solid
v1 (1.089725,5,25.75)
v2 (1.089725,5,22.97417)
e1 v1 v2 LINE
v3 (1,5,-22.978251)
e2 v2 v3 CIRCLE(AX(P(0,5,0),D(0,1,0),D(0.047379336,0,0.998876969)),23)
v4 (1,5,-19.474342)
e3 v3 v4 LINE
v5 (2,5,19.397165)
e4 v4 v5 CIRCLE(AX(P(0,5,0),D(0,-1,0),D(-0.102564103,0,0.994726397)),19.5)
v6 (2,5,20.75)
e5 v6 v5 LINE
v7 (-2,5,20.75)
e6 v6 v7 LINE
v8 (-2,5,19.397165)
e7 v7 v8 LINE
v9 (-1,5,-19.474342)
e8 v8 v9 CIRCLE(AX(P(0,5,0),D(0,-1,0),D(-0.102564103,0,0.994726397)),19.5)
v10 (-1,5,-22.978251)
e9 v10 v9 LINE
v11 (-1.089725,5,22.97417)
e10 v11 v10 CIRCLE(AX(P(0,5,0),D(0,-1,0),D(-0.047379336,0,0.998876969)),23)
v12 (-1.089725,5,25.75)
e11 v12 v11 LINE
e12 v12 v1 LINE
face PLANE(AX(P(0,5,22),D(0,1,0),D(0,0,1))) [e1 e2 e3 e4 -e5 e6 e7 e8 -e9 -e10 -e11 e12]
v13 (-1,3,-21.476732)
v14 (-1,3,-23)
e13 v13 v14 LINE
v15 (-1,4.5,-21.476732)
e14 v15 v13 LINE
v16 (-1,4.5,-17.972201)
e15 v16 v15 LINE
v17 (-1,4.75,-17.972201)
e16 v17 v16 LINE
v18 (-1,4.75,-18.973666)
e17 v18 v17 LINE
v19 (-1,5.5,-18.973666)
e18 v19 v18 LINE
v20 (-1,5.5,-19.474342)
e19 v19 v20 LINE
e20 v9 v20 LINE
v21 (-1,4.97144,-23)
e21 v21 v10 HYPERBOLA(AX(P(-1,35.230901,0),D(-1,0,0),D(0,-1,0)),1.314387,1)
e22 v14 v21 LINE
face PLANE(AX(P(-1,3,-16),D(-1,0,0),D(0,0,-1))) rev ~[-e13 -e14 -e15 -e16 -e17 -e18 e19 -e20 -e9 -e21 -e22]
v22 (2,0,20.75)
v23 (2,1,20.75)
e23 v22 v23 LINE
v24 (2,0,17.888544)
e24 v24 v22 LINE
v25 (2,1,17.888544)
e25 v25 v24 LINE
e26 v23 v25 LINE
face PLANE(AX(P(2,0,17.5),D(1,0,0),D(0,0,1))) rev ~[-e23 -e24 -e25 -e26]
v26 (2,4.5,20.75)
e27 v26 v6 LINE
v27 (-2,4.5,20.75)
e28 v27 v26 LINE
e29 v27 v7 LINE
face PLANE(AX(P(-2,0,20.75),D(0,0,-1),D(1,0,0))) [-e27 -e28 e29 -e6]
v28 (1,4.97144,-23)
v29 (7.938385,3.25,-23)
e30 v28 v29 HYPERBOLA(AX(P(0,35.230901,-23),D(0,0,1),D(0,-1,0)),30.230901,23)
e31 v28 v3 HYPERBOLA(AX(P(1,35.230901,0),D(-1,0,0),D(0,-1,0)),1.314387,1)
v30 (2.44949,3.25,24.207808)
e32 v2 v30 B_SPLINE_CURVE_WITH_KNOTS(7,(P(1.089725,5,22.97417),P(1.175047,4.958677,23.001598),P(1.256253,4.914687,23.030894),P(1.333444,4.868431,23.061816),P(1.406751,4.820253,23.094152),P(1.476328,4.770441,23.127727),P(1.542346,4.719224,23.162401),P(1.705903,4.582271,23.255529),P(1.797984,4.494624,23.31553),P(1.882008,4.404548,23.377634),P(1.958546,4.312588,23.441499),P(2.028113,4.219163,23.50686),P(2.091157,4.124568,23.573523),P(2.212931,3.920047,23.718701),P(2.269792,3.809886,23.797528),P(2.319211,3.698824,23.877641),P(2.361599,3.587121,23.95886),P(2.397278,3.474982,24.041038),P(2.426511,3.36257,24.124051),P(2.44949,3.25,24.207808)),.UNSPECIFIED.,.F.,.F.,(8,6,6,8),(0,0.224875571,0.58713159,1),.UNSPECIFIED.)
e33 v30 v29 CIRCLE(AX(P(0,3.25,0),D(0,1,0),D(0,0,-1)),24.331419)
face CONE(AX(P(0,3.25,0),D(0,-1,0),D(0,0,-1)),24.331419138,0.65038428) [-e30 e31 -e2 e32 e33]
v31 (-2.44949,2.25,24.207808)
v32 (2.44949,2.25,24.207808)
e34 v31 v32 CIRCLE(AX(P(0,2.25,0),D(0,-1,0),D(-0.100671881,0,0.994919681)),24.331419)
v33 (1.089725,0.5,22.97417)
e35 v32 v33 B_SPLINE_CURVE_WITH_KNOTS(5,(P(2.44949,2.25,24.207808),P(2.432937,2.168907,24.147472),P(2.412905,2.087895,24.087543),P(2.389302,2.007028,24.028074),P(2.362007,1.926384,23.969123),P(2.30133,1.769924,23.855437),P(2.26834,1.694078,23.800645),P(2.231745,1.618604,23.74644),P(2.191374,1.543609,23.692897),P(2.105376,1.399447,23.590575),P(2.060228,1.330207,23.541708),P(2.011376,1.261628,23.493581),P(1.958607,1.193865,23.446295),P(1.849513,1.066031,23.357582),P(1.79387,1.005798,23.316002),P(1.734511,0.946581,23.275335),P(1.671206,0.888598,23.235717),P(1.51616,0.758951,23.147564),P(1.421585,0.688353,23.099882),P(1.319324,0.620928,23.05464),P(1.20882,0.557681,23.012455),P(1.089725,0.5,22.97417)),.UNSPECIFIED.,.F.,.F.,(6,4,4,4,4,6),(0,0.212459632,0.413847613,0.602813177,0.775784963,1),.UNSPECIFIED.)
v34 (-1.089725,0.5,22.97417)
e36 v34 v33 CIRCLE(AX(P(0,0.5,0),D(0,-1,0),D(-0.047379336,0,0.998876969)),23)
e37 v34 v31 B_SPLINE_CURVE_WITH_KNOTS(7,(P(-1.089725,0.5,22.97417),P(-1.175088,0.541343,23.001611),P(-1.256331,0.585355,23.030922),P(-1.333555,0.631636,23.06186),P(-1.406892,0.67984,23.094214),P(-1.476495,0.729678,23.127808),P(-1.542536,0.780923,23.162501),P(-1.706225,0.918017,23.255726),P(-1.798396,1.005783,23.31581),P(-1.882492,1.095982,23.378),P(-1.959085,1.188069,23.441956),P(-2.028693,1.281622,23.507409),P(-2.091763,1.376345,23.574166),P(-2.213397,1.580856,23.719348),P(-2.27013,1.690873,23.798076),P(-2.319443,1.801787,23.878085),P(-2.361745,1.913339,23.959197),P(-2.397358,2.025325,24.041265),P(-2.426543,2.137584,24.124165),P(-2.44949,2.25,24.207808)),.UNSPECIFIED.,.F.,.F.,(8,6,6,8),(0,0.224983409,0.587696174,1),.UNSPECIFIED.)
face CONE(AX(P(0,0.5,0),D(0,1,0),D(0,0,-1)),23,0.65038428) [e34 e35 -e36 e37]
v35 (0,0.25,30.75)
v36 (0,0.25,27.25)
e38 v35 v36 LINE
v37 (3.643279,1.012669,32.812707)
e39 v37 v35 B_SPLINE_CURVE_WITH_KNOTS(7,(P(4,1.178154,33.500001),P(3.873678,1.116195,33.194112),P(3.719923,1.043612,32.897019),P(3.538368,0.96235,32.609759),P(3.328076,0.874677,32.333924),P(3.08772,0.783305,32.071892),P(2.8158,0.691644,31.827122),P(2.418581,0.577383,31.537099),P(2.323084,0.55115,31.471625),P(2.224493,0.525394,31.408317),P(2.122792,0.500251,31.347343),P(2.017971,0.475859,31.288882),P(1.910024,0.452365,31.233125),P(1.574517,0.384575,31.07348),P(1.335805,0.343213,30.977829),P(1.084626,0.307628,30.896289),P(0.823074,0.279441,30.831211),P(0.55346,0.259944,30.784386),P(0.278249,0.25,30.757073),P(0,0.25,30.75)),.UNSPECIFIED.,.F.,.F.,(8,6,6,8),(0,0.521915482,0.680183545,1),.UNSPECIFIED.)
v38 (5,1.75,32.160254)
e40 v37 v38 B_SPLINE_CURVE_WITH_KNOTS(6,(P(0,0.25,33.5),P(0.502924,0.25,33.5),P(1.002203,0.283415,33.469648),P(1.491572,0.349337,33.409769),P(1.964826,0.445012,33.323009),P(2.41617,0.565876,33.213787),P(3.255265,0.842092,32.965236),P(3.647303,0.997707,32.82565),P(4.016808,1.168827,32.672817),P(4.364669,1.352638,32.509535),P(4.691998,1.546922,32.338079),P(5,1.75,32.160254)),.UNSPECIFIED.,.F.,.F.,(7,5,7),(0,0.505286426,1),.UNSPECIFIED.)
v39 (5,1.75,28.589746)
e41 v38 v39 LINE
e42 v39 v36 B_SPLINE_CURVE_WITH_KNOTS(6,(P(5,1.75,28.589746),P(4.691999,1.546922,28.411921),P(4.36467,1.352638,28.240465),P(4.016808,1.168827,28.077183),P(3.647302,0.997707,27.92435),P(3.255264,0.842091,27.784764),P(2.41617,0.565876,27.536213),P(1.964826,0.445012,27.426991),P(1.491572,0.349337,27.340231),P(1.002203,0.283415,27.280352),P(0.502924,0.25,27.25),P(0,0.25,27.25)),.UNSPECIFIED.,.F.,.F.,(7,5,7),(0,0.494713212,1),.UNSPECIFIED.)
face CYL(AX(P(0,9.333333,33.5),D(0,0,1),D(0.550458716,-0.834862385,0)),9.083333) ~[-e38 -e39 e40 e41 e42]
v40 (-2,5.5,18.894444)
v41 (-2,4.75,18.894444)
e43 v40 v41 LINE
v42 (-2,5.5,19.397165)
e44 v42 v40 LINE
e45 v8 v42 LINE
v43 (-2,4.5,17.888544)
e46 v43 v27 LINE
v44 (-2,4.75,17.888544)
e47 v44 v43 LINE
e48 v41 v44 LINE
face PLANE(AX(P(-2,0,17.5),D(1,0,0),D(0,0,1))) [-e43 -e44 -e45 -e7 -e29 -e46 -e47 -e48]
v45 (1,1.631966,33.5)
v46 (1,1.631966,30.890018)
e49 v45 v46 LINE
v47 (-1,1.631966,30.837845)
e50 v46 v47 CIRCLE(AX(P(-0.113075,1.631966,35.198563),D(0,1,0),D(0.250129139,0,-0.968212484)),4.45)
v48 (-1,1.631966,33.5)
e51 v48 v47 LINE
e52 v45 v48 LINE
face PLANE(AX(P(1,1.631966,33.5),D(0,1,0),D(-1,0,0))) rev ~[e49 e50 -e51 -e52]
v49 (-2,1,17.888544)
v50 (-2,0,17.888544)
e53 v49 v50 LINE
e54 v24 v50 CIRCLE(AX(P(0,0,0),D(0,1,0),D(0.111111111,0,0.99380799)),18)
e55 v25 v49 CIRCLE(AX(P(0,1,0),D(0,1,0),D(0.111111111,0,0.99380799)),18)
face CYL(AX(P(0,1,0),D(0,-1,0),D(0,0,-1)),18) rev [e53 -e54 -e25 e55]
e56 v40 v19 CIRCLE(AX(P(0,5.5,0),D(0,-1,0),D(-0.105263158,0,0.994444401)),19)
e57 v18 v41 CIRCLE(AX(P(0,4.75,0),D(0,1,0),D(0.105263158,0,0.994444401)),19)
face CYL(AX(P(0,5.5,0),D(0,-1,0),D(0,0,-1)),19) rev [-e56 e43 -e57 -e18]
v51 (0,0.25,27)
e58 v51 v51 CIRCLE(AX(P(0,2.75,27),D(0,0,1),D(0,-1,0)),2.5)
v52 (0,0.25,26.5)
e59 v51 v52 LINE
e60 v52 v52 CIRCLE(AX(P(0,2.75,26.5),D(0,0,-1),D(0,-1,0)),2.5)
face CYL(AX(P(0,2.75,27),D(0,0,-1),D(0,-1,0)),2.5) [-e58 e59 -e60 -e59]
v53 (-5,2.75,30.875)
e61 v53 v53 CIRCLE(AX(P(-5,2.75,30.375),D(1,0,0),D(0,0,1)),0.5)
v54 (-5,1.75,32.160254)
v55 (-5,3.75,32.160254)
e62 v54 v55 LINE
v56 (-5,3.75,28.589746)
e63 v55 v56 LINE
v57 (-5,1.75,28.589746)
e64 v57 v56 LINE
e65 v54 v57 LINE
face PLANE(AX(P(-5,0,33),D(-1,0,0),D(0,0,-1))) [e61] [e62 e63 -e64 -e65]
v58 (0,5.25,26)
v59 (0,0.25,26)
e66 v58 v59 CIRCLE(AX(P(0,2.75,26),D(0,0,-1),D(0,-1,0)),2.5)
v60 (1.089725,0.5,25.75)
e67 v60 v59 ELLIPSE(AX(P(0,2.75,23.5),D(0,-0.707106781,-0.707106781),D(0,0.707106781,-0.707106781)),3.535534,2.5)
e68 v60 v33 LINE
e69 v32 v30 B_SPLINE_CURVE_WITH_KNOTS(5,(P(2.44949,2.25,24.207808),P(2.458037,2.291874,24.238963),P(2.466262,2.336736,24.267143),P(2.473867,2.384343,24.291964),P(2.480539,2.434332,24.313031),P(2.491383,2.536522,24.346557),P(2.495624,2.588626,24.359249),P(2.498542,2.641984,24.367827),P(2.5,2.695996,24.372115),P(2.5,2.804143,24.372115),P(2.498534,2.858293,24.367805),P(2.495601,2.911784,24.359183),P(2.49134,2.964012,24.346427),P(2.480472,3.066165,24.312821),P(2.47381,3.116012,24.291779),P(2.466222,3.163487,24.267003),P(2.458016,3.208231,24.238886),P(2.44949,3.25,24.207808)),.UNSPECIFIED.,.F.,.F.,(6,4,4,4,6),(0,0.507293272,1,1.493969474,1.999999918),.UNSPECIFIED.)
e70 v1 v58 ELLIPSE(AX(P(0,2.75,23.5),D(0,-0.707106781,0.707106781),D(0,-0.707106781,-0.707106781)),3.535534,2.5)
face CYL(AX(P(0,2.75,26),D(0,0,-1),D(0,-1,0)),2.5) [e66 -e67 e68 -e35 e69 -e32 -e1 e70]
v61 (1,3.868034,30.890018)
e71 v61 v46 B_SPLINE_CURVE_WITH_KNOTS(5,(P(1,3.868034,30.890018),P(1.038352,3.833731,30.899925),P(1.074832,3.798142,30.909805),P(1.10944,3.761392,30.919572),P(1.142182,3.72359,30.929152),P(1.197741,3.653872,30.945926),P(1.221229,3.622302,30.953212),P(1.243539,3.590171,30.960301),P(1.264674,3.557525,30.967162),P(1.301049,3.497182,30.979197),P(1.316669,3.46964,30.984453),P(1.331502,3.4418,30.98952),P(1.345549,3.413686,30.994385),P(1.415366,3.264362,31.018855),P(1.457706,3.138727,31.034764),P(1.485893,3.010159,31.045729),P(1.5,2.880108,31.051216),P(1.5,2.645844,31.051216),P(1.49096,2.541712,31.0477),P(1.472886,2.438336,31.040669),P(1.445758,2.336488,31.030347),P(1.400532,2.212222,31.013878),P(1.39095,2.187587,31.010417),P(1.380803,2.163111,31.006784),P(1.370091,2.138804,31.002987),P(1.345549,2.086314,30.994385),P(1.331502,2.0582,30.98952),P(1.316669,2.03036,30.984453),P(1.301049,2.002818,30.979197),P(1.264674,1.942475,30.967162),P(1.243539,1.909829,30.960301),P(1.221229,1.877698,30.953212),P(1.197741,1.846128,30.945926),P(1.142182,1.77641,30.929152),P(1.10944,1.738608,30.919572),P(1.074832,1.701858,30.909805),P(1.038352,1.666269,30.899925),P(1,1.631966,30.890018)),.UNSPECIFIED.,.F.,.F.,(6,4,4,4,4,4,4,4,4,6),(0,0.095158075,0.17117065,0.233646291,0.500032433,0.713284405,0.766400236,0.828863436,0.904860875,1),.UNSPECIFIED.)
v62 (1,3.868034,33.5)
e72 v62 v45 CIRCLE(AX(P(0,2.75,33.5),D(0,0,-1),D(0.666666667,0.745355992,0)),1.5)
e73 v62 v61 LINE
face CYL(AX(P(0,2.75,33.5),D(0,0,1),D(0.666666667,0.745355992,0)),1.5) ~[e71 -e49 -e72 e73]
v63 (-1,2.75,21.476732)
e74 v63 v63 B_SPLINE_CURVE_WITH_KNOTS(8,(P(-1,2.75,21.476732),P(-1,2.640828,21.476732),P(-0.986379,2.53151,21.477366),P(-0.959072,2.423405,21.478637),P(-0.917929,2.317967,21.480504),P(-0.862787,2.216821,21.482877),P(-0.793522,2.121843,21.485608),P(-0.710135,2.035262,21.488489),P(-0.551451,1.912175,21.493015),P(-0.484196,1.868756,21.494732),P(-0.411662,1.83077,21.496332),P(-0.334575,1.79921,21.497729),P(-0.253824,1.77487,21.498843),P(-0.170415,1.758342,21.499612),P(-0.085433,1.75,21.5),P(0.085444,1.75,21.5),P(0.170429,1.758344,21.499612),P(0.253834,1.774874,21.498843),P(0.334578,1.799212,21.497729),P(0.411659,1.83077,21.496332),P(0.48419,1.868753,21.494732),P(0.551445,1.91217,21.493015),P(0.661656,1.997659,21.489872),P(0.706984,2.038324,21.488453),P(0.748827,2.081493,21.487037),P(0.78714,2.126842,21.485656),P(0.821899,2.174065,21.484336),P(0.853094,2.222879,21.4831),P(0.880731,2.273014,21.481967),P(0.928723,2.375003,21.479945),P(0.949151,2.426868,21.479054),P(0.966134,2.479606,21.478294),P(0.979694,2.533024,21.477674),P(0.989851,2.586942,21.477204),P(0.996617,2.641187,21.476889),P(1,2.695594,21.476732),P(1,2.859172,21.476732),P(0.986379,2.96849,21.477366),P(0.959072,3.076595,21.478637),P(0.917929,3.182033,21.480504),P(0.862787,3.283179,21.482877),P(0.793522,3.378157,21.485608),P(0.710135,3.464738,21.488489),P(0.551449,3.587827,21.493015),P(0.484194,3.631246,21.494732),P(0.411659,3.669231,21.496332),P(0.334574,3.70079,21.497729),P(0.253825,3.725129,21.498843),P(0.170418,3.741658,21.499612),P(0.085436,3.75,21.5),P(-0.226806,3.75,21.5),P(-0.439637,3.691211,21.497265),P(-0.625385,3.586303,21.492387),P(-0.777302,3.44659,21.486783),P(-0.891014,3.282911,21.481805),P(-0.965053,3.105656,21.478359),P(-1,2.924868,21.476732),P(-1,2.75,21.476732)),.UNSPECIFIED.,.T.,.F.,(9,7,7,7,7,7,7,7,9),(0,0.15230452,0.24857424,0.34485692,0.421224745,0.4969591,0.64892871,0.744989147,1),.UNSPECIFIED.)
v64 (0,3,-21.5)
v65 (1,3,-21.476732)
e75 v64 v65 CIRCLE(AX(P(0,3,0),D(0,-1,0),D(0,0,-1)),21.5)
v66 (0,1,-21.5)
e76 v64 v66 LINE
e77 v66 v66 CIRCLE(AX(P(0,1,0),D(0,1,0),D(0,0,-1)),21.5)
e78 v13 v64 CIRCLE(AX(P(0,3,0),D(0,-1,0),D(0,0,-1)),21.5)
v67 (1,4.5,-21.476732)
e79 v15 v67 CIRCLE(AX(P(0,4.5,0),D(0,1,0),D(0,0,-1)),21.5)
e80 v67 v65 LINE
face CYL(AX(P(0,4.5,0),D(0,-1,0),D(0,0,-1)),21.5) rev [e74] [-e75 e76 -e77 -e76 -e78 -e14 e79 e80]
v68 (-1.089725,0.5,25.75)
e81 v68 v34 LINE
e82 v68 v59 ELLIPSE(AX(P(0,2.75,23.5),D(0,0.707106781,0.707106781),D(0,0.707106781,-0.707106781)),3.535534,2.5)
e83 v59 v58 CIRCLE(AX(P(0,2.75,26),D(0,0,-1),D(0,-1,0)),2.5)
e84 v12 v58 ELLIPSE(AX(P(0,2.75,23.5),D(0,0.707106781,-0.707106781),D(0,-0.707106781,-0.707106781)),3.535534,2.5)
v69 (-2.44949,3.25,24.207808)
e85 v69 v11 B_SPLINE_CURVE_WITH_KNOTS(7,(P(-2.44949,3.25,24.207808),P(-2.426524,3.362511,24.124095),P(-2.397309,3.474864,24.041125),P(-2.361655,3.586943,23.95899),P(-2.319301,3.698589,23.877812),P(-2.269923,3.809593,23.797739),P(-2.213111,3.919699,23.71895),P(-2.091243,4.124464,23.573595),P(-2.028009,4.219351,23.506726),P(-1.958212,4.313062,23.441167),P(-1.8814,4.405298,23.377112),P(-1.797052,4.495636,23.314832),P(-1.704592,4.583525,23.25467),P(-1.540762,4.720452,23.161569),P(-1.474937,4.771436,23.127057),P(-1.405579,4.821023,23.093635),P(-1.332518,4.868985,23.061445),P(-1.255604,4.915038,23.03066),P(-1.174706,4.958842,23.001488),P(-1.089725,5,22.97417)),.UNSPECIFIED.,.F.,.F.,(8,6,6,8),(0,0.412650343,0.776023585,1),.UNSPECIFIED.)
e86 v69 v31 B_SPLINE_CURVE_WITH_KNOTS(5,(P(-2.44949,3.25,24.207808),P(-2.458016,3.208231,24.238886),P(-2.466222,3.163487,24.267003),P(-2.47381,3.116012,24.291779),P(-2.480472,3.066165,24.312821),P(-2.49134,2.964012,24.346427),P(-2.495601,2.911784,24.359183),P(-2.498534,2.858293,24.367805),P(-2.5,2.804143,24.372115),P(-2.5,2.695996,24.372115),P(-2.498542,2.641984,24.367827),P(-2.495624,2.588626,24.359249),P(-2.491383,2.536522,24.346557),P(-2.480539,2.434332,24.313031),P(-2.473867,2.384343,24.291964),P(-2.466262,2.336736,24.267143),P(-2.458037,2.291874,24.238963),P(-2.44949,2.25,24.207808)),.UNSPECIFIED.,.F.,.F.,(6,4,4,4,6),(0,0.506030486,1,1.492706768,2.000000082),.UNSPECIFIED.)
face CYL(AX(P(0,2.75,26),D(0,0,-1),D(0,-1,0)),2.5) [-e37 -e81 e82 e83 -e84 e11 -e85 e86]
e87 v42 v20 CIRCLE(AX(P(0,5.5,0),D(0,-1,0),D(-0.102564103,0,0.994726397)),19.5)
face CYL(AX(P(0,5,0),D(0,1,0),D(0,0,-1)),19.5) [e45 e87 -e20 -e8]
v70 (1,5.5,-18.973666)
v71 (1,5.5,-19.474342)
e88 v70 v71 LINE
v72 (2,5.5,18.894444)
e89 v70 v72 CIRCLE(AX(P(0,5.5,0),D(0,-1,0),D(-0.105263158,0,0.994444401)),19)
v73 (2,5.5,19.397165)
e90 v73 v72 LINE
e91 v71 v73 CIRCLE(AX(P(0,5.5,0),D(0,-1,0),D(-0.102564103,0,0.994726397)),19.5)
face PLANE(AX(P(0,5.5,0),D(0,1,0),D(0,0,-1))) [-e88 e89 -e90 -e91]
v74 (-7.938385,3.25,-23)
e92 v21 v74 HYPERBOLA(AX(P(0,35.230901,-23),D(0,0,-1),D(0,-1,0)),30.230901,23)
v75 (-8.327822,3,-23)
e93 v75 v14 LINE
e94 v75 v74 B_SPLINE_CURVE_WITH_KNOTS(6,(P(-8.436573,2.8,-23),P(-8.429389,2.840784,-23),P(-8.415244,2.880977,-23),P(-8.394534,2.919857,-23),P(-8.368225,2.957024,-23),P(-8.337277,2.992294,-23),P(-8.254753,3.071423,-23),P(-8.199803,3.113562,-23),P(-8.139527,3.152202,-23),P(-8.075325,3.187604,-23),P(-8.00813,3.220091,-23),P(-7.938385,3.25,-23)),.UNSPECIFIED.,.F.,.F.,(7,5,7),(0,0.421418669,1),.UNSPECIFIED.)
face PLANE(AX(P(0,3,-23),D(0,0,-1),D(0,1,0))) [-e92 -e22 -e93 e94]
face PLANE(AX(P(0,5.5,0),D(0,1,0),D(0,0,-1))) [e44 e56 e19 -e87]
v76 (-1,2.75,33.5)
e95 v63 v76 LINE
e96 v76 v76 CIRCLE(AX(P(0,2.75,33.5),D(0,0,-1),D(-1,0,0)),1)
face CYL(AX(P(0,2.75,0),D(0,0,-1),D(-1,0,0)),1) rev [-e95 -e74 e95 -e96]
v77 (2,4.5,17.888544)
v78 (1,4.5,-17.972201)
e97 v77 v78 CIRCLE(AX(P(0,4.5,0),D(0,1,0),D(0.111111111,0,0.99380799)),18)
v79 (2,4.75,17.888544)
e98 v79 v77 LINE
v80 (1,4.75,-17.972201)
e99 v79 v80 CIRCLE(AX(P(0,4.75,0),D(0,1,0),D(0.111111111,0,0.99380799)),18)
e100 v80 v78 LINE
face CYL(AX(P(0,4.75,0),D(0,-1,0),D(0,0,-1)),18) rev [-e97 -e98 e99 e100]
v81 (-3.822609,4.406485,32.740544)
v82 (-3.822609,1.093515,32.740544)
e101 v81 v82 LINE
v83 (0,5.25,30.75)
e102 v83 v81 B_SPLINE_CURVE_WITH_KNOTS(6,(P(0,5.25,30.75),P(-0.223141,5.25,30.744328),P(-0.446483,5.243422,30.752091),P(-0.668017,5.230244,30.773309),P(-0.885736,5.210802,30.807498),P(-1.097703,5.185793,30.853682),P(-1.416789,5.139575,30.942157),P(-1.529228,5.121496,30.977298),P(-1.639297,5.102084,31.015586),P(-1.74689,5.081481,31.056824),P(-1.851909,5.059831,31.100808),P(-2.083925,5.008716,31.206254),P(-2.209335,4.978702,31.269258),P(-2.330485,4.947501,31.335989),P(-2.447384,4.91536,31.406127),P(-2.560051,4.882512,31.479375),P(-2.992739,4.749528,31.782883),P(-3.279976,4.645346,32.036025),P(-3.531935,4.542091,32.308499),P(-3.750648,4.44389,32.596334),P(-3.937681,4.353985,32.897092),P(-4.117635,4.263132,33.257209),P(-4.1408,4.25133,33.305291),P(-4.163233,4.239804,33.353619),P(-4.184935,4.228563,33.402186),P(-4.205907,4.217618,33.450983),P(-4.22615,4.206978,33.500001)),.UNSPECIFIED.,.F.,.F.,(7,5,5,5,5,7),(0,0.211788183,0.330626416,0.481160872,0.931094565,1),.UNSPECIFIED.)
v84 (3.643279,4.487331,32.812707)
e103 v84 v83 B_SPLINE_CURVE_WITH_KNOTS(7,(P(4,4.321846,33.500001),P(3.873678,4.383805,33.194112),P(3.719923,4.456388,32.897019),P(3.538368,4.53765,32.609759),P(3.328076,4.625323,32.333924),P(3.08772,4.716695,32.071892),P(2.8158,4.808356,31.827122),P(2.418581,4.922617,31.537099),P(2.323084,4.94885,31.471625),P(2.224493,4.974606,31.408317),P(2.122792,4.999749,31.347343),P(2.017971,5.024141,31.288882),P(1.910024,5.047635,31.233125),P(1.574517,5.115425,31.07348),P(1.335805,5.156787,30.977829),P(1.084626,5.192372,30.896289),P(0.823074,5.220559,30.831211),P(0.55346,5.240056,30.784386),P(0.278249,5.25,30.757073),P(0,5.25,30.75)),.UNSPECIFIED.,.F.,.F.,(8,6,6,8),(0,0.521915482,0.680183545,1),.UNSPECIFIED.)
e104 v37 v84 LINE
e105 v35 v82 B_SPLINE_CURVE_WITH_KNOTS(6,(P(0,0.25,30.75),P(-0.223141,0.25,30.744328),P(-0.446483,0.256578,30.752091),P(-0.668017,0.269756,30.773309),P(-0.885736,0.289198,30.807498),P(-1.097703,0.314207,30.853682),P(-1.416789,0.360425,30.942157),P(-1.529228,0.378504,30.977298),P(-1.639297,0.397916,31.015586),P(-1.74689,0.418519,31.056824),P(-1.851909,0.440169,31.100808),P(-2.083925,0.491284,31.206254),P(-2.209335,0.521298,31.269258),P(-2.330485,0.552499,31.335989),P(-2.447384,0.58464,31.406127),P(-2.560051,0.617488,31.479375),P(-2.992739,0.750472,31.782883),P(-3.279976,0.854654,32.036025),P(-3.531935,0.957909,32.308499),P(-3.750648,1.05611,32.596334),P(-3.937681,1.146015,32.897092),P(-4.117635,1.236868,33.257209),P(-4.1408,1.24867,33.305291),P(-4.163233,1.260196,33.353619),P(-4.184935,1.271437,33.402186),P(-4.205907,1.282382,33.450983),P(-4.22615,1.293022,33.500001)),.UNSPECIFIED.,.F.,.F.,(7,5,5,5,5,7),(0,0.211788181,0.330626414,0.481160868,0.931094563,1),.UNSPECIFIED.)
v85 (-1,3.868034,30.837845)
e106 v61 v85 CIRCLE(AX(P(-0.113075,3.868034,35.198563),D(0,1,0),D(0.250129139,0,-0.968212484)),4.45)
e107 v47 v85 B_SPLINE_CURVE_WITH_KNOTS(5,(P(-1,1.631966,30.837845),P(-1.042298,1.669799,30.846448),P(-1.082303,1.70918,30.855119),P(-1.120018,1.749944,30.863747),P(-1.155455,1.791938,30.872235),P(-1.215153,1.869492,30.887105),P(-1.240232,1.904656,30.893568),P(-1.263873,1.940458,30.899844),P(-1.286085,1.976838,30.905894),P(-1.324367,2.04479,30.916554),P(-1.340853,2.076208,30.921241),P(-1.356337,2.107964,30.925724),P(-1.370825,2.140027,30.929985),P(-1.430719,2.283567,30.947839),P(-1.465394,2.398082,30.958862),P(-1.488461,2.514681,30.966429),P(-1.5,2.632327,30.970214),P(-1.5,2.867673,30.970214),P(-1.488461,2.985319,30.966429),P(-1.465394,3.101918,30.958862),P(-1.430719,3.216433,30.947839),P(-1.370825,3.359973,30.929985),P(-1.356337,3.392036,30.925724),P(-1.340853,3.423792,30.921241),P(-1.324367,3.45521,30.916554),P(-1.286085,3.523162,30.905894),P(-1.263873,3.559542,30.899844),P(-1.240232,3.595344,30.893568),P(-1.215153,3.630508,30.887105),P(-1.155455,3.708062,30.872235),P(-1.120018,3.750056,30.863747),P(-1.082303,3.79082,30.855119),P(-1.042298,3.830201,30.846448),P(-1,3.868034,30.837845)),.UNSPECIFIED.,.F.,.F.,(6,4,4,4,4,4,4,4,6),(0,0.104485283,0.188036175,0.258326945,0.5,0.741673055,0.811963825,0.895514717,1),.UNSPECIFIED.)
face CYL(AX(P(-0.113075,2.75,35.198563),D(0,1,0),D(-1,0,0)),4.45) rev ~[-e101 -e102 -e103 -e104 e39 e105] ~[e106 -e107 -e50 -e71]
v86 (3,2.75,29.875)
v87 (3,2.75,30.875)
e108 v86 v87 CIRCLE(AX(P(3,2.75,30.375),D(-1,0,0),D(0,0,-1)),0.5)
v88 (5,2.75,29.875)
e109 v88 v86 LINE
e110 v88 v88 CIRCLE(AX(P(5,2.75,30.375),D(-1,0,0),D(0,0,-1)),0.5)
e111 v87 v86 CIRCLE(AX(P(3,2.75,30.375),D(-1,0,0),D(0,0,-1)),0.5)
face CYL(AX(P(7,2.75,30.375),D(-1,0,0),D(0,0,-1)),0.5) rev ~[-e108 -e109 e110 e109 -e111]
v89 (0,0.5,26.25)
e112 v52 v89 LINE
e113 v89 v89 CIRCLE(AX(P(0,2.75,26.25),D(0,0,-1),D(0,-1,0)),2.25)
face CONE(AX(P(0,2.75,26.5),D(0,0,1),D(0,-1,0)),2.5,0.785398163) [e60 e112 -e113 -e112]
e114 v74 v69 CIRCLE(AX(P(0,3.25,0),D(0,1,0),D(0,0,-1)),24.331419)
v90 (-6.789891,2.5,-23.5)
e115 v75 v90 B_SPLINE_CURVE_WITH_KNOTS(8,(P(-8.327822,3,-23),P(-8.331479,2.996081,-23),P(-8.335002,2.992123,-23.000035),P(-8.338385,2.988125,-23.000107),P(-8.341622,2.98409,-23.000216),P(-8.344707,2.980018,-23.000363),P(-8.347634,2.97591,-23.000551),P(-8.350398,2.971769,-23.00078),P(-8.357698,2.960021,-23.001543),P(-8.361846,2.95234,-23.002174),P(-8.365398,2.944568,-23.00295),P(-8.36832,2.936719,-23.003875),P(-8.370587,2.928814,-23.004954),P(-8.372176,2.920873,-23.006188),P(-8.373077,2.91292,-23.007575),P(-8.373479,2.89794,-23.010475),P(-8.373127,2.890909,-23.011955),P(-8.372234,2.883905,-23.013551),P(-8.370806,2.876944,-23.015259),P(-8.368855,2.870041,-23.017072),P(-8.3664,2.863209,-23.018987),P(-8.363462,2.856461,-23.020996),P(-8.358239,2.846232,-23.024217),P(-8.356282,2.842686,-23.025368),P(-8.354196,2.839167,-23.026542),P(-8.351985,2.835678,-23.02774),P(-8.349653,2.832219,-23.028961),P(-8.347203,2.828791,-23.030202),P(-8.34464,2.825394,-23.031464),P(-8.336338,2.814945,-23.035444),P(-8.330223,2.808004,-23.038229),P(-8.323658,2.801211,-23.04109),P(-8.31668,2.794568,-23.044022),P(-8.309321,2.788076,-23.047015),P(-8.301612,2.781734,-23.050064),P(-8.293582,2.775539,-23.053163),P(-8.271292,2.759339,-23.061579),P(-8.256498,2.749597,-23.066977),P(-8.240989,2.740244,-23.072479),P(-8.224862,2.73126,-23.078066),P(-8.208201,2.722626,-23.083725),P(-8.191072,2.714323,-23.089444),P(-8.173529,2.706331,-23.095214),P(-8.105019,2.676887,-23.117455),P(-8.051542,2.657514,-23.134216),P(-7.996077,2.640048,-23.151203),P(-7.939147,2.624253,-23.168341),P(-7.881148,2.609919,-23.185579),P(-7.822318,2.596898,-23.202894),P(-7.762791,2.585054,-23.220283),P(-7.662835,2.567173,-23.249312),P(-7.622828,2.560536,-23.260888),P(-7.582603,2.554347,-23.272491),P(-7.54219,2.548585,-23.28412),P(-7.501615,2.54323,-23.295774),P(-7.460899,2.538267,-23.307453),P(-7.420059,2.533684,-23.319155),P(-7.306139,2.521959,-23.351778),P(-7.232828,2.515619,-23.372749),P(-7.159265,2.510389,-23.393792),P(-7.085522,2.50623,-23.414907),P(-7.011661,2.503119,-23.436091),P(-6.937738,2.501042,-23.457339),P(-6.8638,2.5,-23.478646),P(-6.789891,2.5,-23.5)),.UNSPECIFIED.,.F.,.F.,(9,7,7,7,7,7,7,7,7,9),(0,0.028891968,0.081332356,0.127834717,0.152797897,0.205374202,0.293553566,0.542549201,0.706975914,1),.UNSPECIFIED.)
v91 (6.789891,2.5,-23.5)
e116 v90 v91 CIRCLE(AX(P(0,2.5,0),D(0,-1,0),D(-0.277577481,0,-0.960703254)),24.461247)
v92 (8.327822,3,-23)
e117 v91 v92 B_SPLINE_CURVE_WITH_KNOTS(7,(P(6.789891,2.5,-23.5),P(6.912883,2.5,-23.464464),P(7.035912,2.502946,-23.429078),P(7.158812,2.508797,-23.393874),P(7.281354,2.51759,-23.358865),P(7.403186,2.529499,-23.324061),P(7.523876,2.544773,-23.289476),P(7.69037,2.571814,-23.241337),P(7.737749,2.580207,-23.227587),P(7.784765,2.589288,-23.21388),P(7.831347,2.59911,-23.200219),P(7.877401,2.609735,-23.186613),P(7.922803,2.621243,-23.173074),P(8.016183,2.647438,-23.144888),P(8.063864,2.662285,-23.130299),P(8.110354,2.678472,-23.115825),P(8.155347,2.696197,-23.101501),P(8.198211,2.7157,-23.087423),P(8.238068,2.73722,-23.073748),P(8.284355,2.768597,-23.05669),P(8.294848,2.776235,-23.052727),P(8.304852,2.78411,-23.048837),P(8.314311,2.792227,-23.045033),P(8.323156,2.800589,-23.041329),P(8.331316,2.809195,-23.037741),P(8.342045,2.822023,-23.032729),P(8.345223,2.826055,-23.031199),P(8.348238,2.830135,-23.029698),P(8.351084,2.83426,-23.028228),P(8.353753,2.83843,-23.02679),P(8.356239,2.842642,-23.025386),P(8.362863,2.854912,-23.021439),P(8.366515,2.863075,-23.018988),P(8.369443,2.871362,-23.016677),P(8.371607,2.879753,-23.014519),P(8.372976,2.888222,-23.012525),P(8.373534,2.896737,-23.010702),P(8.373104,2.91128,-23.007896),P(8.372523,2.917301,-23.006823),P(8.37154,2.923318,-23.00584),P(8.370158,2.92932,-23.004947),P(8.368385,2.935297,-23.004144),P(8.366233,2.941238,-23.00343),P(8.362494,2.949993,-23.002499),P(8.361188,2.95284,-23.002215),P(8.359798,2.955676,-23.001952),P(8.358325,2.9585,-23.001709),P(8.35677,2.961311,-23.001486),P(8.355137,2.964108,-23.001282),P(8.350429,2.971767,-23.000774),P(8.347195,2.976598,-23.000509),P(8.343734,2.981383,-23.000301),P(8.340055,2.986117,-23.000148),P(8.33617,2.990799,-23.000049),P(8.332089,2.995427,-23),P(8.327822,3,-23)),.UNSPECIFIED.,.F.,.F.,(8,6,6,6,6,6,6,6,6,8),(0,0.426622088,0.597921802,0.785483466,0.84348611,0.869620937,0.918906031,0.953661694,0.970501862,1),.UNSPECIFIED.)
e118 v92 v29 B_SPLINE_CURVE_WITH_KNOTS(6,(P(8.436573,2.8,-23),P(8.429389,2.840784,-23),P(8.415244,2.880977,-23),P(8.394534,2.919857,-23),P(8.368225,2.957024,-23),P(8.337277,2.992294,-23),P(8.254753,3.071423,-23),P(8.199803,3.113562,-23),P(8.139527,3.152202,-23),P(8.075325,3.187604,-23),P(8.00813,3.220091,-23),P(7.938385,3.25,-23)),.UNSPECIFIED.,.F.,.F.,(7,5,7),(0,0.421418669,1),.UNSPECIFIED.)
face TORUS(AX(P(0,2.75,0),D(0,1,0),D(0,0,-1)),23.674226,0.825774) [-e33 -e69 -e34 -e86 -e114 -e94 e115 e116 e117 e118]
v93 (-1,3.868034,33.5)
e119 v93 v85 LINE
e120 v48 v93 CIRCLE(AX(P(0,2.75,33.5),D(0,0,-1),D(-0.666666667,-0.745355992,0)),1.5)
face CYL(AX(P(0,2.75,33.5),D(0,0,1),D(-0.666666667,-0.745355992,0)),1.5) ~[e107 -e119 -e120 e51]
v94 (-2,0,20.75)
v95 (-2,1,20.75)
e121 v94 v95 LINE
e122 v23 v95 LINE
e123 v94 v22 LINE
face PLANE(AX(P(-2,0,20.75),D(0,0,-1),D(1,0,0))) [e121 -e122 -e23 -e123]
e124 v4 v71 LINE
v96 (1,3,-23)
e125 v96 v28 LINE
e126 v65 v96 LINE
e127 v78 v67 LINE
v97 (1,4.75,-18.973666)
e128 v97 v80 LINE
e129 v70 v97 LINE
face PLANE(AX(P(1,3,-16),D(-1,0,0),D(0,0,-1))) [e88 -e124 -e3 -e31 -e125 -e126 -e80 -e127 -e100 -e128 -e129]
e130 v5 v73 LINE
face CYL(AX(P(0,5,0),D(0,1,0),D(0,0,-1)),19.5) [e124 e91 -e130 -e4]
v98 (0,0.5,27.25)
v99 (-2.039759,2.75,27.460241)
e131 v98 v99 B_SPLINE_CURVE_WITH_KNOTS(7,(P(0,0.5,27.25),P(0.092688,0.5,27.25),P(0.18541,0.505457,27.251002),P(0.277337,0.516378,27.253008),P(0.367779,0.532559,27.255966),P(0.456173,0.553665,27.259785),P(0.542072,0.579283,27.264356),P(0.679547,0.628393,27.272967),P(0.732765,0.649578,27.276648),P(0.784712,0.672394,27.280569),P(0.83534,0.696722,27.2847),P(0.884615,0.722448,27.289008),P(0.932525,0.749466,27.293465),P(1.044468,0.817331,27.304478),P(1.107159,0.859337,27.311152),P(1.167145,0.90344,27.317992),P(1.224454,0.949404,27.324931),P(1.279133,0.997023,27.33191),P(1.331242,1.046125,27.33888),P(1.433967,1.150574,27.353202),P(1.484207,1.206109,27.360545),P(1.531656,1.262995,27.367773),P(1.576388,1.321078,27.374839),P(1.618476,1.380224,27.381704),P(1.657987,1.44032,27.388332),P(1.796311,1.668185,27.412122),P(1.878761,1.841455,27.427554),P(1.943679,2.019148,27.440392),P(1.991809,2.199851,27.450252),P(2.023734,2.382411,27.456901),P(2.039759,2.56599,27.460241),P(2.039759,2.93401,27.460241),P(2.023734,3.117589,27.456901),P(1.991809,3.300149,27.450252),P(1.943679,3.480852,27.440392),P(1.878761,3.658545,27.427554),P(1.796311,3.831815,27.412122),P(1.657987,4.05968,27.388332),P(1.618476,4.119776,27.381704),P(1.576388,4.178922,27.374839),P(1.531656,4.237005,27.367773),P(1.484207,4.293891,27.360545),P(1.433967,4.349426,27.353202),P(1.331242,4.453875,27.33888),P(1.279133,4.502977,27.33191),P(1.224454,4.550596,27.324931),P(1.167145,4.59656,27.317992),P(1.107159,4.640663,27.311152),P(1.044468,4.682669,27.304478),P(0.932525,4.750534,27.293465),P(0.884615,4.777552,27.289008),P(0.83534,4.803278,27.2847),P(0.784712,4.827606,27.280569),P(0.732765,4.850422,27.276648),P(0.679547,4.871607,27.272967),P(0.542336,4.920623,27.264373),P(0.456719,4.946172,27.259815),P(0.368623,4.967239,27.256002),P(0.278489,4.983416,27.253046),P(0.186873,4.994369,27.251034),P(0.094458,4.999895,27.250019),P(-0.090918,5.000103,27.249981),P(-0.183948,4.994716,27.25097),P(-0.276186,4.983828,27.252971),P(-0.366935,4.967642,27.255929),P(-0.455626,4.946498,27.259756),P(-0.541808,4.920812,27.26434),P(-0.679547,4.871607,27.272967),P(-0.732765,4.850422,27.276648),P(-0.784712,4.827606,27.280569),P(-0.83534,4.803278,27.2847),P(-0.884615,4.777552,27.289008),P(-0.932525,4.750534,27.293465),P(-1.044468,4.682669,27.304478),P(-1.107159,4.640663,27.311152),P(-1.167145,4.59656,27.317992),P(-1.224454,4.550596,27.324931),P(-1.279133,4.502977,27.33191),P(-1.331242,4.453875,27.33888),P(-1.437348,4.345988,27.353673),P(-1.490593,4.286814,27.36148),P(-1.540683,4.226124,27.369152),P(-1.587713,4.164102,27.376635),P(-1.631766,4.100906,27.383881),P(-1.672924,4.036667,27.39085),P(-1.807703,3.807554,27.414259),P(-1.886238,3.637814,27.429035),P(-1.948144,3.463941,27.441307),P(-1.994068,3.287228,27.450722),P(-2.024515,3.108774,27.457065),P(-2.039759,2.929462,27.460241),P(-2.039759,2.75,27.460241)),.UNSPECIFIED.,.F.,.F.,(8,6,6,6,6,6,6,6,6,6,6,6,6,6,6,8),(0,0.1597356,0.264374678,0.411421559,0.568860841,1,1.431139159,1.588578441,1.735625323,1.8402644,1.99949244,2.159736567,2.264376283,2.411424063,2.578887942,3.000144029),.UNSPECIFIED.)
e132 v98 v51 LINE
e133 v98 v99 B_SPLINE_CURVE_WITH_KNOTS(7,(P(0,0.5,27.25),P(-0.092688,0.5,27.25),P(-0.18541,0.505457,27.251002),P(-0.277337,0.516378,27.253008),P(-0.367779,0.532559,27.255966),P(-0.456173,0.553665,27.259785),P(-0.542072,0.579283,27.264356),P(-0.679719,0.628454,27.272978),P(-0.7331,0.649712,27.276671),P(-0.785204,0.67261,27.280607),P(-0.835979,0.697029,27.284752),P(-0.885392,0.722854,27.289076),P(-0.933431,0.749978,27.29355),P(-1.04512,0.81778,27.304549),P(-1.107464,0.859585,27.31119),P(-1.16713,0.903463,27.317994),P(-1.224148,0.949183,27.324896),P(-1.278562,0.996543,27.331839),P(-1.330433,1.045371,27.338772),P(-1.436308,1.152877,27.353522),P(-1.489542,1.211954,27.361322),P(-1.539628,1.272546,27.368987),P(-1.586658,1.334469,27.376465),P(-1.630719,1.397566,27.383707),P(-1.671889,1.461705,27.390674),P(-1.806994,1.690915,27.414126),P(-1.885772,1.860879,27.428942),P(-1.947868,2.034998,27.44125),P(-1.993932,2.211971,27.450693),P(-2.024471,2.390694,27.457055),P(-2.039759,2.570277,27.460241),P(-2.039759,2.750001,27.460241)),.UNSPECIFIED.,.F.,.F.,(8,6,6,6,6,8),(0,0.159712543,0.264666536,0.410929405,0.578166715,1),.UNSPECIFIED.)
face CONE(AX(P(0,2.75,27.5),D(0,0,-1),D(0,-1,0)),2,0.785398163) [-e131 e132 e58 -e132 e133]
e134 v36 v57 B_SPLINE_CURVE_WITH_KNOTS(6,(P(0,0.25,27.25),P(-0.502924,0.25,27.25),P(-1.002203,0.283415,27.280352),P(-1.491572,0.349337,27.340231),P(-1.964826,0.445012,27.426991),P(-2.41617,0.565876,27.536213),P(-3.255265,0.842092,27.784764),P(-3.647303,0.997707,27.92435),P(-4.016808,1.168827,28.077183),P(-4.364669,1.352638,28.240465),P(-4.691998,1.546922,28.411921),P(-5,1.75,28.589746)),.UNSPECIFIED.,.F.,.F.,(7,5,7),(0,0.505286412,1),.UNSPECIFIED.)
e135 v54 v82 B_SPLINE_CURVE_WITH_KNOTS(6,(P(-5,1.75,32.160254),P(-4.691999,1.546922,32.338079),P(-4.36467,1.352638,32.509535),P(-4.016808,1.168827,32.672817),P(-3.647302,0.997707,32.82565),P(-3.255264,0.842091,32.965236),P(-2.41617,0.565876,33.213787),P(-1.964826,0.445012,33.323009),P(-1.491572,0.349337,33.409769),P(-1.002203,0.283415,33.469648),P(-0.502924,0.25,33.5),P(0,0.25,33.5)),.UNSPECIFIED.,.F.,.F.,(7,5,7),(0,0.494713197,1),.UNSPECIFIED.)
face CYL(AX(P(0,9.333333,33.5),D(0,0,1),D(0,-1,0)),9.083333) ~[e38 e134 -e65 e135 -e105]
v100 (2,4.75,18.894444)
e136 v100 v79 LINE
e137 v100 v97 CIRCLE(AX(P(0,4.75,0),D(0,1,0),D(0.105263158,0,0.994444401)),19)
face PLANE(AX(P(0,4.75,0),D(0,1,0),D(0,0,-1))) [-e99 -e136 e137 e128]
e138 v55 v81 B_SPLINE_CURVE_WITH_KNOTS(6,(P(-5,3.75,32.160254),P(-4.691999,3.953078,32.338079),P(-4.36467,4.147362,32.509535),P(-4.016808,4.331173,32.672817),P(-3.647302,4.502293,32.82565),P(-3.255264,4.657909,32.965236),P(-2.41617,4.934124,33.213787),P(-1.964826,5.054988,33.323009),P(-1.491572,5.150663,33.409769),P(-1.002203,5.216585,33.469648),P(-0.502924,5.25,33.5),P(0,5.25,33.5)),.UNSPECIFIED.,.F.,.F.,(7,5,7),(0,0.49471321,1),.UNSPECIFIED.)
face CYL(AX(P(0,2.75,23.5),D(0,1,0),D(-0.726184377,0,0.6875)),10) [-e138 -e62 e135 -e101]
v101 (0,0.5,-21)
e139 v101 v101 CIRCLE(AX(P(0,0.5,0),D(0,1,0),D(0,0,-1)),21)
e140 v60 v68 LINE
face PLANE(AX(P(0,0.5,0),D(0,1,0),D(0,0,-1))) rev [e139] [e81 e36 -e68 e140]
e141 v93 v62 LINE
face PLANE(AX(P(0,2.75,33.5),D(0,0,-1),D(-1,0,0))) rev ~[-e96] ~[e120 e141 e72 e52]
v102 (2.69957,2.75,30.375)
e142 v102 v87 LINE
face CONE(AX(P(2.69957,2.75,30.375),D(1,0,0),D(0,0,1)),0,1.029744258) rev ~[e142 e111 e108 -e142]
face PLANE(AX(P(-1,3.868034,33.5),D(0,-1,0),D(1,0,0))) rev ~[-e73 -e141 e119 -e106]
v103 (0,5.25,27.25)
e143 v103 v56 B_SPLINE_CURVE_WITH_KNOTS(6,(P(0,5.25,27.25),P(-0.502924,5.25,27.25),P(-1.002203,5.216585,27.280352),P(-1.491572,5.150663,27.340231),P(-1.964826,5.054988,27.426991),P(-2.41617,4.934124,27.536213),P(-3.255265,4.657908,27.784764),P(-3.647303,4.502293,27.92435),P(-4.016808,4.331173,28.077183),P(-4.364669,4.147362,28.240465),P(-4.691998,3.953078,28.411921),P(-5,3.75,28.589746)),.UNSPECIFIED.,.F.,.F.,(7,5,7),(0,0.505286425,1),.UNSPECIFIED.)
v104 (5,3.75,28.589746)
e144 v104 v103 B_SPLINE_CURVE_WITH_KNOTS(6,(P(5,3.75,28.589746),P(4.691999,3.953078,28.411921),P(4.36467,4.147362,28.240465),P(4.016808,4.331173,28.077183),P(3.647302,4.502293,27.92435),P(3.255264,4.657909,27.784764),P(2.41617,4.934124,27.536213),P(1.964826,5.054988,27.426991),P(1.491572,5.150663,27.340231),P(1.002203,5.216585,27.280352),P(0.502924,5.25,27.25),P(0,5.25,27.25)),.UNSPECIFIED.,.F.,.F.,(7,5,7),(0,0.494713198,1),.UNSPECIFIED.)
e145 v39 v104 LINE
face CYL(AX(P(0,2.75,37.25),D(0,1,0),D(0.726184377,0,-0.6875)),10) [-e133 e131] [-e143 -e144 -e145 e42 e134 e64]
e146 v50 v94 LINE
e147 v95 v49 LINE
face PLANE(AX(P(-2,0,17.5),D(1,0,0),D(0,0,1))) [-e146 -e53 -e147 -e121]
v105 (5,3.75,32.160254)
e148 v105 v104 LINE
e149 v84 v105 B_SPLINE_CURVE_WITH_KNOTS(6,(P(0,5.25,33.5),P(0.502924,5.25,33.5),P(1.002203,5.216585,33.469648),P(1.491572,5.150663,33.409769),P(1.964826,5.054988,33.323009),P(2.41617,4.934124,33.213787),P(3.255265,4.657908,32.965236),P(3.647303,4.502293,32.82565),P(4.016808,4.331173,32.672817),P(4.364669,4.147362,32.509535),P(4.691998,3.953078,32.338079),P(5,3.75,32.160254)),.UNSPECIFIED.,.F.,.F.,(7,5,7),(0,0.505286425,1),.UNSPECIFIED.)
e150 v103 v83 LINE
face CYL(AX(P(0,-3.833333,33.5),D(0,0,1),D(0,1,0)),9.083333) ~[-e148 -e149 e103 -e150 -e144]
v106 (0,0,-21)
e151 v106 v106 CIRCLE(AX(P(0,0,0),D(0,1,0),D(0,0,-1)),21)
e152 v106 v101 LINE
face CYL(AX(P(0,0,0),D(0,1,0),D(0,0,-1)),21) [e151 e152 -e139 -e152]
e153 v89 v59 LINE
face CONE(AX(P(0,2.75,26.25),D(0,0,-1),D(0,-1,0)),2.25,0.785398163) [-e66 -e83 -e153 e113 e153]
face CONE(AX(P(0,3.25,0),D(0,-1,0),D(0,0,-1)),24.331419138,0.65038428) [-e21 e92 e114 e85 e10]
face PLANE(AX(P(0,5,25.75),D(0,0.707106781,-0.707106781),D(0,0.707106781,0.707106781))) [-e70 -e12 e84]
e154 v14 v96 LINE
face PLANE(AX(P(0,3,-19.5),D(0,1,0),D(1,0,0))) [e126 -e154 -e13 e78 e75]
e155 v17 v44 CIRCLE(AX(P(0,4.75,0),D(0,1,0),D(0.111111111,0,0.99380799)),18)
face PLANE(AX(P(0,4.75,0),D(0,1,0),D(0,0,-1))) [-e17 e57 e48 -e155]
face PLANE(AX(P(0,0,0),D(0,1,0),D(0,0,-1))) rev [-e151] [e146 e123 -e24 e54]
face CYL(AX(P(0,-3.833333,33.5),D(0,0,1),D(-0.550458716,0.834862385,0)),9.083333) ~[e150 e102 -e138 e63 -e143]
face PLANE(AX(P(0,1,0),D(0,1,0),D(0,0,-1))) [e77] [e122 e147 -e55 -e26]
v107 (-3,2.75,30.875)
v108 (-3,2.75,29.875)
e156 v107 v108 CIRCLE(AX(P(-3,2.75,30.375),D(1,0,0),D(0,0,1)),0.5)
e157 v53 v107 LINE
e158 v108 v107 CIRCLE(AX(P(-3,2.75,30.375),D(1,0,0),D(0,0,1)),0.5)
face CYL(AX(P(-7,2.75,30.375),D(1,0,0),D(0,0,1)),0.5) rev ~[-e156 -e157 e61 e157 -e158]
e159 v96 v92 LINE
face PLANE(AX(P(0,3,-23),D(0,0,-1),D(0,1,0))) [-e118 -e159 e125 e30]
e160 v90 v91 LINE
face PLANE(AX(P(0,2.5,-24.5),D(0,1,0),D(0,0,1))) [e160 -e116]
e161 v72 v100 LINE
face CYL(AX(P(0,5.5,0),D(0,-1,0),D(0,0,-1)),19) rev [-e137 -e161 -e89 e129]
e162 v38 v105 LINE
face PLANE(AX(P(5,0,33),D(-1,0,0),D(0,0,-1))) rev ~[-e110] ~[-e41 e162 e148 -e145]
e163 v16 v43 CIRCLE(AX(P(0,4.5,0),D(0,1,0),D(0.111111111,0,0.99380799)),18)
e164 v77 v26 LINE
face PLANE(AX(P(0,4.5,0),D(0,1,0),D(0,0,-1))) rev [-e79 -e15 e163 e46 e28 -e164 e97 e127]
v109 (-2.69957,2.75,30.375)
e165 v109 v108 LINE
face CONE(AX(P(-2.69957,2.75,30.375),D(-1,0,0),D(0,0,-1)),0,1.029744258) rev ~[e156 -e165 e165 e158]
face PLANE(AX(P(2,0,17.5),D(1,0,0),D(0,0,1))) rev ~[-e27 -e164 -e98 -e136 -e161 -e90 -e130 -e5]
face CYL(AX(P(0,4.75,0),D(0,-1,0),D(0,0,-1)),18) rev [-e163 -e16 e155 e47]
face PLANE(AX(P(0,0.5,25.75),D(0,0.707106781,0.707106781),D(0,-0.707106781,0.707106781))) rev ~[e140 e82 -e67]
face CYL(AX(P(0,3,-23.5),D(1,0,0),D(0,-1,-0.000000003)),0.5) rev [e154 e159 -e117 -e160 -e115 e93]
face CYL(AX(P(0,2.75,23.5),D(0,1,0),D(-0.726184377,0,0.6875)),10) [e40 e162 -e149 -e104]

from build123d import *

# Parameters (mm, degrees)
CORTAR_EXTRUIR1_DEPTH                       = 36.08204683
CORTAR_EXTRUIR1_DEPTH_BACK                  = 36.08204683
CROQUIS3_W                                  = 4
CROQUIS3_H                                  = 3.25
CORTAR_EXTRUIR2_DEPTH                       = 36.08204683
CORTAR_EXTRUIR3_DEPTH                       = 38.983549135
CORTAR_EXTRUIR3_DEPTH_BACK                  = 38.983549135
SALIENTE_EXTRUIR1_DEPTH                     = 2.5
SALIENTE_EXTRUIR1_DEPTH_BACK                = 2.5
CROQUIS9_W                                  = 3
CROQUIS9_H                                  = 7
CORTAR_EXTRUIR5_DEPTH                       = 42.865857269
CORTAR_EXTRUIR6_DEPTH                       = 6.5
CROQUIS12_R                                 = 4.45
CORTAR_EXTRUIR7_DEPTH                       = 6.5
CORTAR_EXTRUIR7_DEPTH_BACK                  = 6.5
SALIENTE_EXTRUIR2_REACH                     = 65.166
SALIENTE_EXTRUIR2_END_RADIUS                = 4.45
CROQUIS13_R                                 = 1
CORTAR_EXTRUIR8_DEPTH                       = 42.865857349
DI_METRO_DE_TALADRO_1_0_1_1_D               = 1
DI_METRO_DE_TALADRO_1_0_1_1_DEPTH           = 2
DI_METRO_DE_TALADRO_1_0_1_1_TIP             = 0.30043031
DI_METRO_DE_TALADRO_1_0_1_1_ON_FACE_2_D     = 1
DI_METRO_DE_TALADRO_1_0_1_1_ON_FACE_2_DEPTH = 2
DI_METRO_DE_TALADRO_1_0_1_1_ON_FACE_2_TIP   = 0.30043031
CORTAR_EXTRUIR9_START                       = -2.5
CROQUIS16_W                                 = 2
CROQUIS16_H                                 = 7
CORTAR_EXTRUIR9_DEPTH                       = 2.5


with BuildPart() as part:
    # Croquis1 → Revolución1 (revolve)
    with BuildSketch(Plane.XY, mode=Mode.PRIVATE) as revoluci_n1_sk:
        with BuildLine():
            Line((18, 0), (21, 0))
            Line((21, 0), (21, 0.5))
            Line((21, 0.5), (23, 0.5))
            Line((23, 0.5), (24.331419138, 2.25))
            ThreePointArc((24.331419138, 2.25), (24.5, 2.75), (24.331419138, 3.25))
            Line((24.331419138, 3.25), (23, 5))
            Line((23, 5), (19.5, 5))
            Line((19.5, 5), (19.5, 5.5))
            Line((19.5, 5.5), (19, 5.5))
            Line((19, 5.5), (19, 4.75))
            Line((19, 4.75), (18, 4.75))
            Line((18, 4.75), (18, 4.5))
            Line((18, 4.5), (21.5, 4.5))
            Line((21.5, 4.5), (21.5, 1))
            Line((21.5, 1), (18, 1))
            Line((18, 1), (18, 0))
        make_face()
    revolve(revoluci_n1_sk.sketch.rotate(Axis((0, 0, 0), (0, 1, 0)), 90), axis=Axis((0, 0, 0), (0, 1, 0)))

    # Croquis2 → Cortar-Extruir1 (cut, two sides)
    with BuildSketch(Plane(origin=(0, 0, 0), x_dir=(0, 0, -1), z_dir=(1, 0, 0))) as cortar_extruir1_sk:
        with BuildLine():
            Line((23, 3), (23, 5))
            Line((23, 5), (24.5, 5))
            Line((24.5, 5), (24.5, 2.5))
            Line((24.5, 2.5), (23.5, 2.5))
            ThreePointArc((23.5, 2.5), (23.146446609, 2.646446609), (23, 3))
        make_face()
    extrude(amount=CORTAR_EXTRUIR1_DEPTH, mode=Mode.SUBTRACT)
    extrude(cortar_extruir1_sk.sketch, amount=-CORTAR_EXTRUIR1_DEPTH_BACK, mode=Mode.SUBTRACT)

    # Croquis3 → Cortar-Extruir2 (cut, through all)
    with BuildSketch(Plane.XZ):
        with Locations((0, 19.125)):
            Rectangle(CROQUIS3_W, CROQUIS3_H)
    extrude(amount=-CORTAR_EXTRUIR2_DEPTH, mode=Mode.SUBTRACT)

    # Croquis5 → Revolución2 (revolve)
    with BuildSketch(Plane(origin=(0, 0, 0), x_dir=(0, 0, -1), z_dir=(1, 0, 0))):
        Polygon((-22, 0.25), (-22, 2.75), (-28.5, 2.75), (-28.5, 0.25), (-28, 0.25), (-27.5, 0.75), (-27, 0.25), (-26.5, 0.25), (-26.25, 0.5), (-26, 0.25), align=None)
    revolve(axis=Axis((0, 2.75, 28.5), (0, 0, -1)))

    # Croquis6 → Cortar-Extruir3 (cut, two sides)
    with BuildSketch(Plane(origin=(0, 0, 0), x_dir=(0, 0, -1), z_dir=(1, 0, 0))) as cortar_extruir3_sk:
        Polygon((-22, 0), (-22, 0.5), (-25.75, 0.5), (-26.25, 0), (-26.25, -0.75), (-22, -0.75), align=None)
        Polygon((-22, 5), (-25.75, 5), (-26.25, 5.5), (-26.25, 6.25), (-22, 6.25), (-22, 5.5), align=None)
        Polygon((-28, 5.25), (-28.5, 4.75), (-28.5, 5.25), align=None)
        Polygon((-28, 0.25), (-28.5, 0.75), (-28.5, 0.25), align=None)
    extrude(amount=CORTAR_EXTRUIR3_DEPTH, mode=Mode.SUBTRACT)
    extrude(cortar_extruir3_sk.sketch, amount=-CORTAR_EXTRUIR3_DEPTH_BACK, mode=Mode.SUBTRACT)

    # Croquis8 → Saliente-Extruir1 (add, two sides)
    with BuildSketch(Plane(origin=(0, 2.75, 0), x_dir=(-1, 0, 0), z_dir=(0, 1, 0))) as saliente_extruir1_sk:
        with BuildLine():
            ThreePointArc((-7.261843774, 30.375), (0, 27.25), (7.261843774, 30.375))
            ThreePointArc((7.261843774, 30.375), (0, 33.5), (-7.261843774, 30.375))
        make_face()
    extrude(amount=SALIENTE_EXTRUIR1_DEPTH)
    extrude(saliente_extruir1_sk.sketch, amount=-SALIENTE_EXTRUIR1_DEPTH_BACK)

    # Croquis9 → Cortar-Extruir5 (cut, through all)
    with BuildSketch(Plane(origin=(0, 0, 0), x_dir=(1, 0, 0), z_dir=(0, 1, 0))):
        with Locations((6.5, -29.5)):
            Rectangle(CROQUIS9_W, CROQUIS9_H)
        with Locations((-6.5, -29.5)):
            Rectangle(CROQUIS9_W, CROQUIS9_H)
    extrude(amount=CORTAR_EXTRUIR5_DEPTH, mode=Mode.SUBTRACT)

    # Croquis10 → Cortar-Extruir6 (cut)
    with BuildSketch(Plane.XY.offset(33.5)):
        with BuildLine():
            Line((5, 5.25), (0, 5.25))
            ThreePointArc((0, 5.25), (2.610076627, 4.866922091), (5, 3.75))
            Line((5, 3.75), (5, 5.25))
        make_face()
        with BuildLine():
            Line((-5, 5.25), (-5, 3.75))
            ThreePointArc((-5, 3.75), (-2.610076627, 4.866922091), (0, 5.25))
            Line((0, 5.25), (-5, 5.25))
        make_face()
        with BuildLine():
            ThreePointArc((0, 0.25), (-2.610076627, 0.633077909), (-5, 1.75))
            Line((-5, 1.75), (-5, 0.25))
            Line((-5, 0.25), (0, 0.25))
        make_face()
        with BuildLine():
            ThreePointArc((5, 1.75), (2.610076627, 0.633077909), (0, 0.25))
            Line((0, 0.25), (5, 0.25))
            Line((5, 0.25), (5, 1.75))
        make_face()
    extrude(amount=-CORTAR_EXTRUIR6_DEPTH, mode=Mode.SUBTRACT)

    # Croquis12 → Cortar-Extruir7 (cut, two sides)
    with BuildSketch(Plane(origin=(0, 2.75, 0), x_dir=(-1, 0, 0), z_dir=(0, 1, 0))) as cortar_extruir7_sk:
        with Locations((0.113074667, 35.198563152)):
            Circle(CROQUIS12_R)
    extrude(amount=CORTAR_EXTRUIR7_DEPTH, mode=Mode.SUBTRACT)
    extrude(cortar_extruir7_sk.sketch, amount=-CORTAR_EXTRUIR7_DEPTH_BACK, mode=Mode.SUBTRACT)

    # Saliente-Extruir2: up to this cylinder (the profile starts inside it)
    saliente_extruir2_end = Plane(origin=(-0.113074667, 2.75, 35.198563152), z_dir=(0, -1, 0)) * Cylinder(SALIENTE_EXTRUIR2_END_RADIUS, 140.232, mode=Mode.PRIVATE)
    # Croquis15 → Saliente-Extruir2 (add, up to the surface)
    with BuildSketch(Plane.XY.offset(33.5), mode=Mode.PRIVATE) as saliente_extruir2_sk1:
        with BuildLine():
            Line((-1, 3.868033989), (1, 3.868033989))
            ThreePointArc((1, 3.868033989), (1.5, 2.75), (1, 1.631966011))
            Line((1, 1.631966011), (-1, 1.631966011))
            ThreePointArc((-1, 1.631966011), (-1.5, 2.75), (-1, 3.868033989))
        make_face()
    saliente_extruir2_tool1 = extrude(saliente_extruir2_sk1.sketch, amount=-SALIENTE_EXTRUIR2_REACH, mode=Mode.PRIVATE) & saliente_extruir2_end
    add(saliente_extruir2_tool1.solids().sort_by_distance((0, 2.75, 33.5))[0])

    # Croquis13 → Cortar-Extruir8 (cut, through all)
    with BuildSketch(Plane.XY):
        with Locations(Location((0, 2.75, 0), (0, 0, 180))):
            Circle(CROQUIS13_R)
    extrude(amount=CORTAR_EXTRUIR8_DEPTH, mode=Mode.SUBTRACT)

    # Diámetro de taladro Ø1.0 (1)1
    with Locations(Plane(origin=(5, 2.75, 30.375), x_dir=(0, 0, 1), z_dir=(1, 0, 0))):
        with Locations((0, 0)):
            Hole(DI_METRO_DE_TALADRO_1_0_1_1_D / 2, depth=DI_METRO_DE_TALADRO_1_0_1_1_DEPTH)
            with Locations((0, 0, -(DI_METRO_DE_TALADRO_1_0_1_1_DEPTH + DI_METRO_DE_TALADRO_1_0_1_1_TIP / 2))):  # 118° drill point
                Cone(0, DI_METRO_DE_TALADRO_1_0_1_1_D / 2, DI_METRO_DE_TALADRO_1_0_1_1_TIP, mode=Mode.SUBTRACT)

    # Diámetro de taladro Ø1.0 (1)1 on face 2
    with Locations(Plane(origin=(-5, 2.75, 30.375), x_dir=(0, 0, -1), z_dir=(-1, 0, 0))):
        with Locations((0, 0)):
            Hole(DI_METRO_DE_TALADRO_1_0_1_1_ON_FACE_2_D / 2, depth=DI_METRO_DE_TALADRO_1_0_1_1_ON_FACE_2_DEPTH)
            with Locations((0, 0, -(DI_METRO_DE_TALADRO_1_0_1_1_ON_FACE_2_DEPTH + DI_METRO_DE_TALADRO_1_0_1_1_ON_FACE_2_TIP / 2))):  # 118° drill point
                Cone(0, DI_METRO_DE_TALADRO_1_0_1_1_ON_FACE_2_D / 2, DI_METRO_DE_TALADRO_1_0_1_1_ON_FACE_2_TIP, mode=Mode.SUBTRACT)

    # Croquis16 → Cortar-Extruir9 (cut)
    with BuildSketch(Plane(origin=(0, 5.5, 0), x_dir=(1, 0, 0), z_dir=(0, 1, 0)).offset(CORTAR_EXTRUIR9_START)):
        with Locations((0, 19.5)):
            Rectangle(CROQUIS16_W, CROQUIS16_H)
    extrude(amount=CORTAR_EXTRUIR9_DEPTH, mode=Mode.SUBTRACT)


solid = part.part
